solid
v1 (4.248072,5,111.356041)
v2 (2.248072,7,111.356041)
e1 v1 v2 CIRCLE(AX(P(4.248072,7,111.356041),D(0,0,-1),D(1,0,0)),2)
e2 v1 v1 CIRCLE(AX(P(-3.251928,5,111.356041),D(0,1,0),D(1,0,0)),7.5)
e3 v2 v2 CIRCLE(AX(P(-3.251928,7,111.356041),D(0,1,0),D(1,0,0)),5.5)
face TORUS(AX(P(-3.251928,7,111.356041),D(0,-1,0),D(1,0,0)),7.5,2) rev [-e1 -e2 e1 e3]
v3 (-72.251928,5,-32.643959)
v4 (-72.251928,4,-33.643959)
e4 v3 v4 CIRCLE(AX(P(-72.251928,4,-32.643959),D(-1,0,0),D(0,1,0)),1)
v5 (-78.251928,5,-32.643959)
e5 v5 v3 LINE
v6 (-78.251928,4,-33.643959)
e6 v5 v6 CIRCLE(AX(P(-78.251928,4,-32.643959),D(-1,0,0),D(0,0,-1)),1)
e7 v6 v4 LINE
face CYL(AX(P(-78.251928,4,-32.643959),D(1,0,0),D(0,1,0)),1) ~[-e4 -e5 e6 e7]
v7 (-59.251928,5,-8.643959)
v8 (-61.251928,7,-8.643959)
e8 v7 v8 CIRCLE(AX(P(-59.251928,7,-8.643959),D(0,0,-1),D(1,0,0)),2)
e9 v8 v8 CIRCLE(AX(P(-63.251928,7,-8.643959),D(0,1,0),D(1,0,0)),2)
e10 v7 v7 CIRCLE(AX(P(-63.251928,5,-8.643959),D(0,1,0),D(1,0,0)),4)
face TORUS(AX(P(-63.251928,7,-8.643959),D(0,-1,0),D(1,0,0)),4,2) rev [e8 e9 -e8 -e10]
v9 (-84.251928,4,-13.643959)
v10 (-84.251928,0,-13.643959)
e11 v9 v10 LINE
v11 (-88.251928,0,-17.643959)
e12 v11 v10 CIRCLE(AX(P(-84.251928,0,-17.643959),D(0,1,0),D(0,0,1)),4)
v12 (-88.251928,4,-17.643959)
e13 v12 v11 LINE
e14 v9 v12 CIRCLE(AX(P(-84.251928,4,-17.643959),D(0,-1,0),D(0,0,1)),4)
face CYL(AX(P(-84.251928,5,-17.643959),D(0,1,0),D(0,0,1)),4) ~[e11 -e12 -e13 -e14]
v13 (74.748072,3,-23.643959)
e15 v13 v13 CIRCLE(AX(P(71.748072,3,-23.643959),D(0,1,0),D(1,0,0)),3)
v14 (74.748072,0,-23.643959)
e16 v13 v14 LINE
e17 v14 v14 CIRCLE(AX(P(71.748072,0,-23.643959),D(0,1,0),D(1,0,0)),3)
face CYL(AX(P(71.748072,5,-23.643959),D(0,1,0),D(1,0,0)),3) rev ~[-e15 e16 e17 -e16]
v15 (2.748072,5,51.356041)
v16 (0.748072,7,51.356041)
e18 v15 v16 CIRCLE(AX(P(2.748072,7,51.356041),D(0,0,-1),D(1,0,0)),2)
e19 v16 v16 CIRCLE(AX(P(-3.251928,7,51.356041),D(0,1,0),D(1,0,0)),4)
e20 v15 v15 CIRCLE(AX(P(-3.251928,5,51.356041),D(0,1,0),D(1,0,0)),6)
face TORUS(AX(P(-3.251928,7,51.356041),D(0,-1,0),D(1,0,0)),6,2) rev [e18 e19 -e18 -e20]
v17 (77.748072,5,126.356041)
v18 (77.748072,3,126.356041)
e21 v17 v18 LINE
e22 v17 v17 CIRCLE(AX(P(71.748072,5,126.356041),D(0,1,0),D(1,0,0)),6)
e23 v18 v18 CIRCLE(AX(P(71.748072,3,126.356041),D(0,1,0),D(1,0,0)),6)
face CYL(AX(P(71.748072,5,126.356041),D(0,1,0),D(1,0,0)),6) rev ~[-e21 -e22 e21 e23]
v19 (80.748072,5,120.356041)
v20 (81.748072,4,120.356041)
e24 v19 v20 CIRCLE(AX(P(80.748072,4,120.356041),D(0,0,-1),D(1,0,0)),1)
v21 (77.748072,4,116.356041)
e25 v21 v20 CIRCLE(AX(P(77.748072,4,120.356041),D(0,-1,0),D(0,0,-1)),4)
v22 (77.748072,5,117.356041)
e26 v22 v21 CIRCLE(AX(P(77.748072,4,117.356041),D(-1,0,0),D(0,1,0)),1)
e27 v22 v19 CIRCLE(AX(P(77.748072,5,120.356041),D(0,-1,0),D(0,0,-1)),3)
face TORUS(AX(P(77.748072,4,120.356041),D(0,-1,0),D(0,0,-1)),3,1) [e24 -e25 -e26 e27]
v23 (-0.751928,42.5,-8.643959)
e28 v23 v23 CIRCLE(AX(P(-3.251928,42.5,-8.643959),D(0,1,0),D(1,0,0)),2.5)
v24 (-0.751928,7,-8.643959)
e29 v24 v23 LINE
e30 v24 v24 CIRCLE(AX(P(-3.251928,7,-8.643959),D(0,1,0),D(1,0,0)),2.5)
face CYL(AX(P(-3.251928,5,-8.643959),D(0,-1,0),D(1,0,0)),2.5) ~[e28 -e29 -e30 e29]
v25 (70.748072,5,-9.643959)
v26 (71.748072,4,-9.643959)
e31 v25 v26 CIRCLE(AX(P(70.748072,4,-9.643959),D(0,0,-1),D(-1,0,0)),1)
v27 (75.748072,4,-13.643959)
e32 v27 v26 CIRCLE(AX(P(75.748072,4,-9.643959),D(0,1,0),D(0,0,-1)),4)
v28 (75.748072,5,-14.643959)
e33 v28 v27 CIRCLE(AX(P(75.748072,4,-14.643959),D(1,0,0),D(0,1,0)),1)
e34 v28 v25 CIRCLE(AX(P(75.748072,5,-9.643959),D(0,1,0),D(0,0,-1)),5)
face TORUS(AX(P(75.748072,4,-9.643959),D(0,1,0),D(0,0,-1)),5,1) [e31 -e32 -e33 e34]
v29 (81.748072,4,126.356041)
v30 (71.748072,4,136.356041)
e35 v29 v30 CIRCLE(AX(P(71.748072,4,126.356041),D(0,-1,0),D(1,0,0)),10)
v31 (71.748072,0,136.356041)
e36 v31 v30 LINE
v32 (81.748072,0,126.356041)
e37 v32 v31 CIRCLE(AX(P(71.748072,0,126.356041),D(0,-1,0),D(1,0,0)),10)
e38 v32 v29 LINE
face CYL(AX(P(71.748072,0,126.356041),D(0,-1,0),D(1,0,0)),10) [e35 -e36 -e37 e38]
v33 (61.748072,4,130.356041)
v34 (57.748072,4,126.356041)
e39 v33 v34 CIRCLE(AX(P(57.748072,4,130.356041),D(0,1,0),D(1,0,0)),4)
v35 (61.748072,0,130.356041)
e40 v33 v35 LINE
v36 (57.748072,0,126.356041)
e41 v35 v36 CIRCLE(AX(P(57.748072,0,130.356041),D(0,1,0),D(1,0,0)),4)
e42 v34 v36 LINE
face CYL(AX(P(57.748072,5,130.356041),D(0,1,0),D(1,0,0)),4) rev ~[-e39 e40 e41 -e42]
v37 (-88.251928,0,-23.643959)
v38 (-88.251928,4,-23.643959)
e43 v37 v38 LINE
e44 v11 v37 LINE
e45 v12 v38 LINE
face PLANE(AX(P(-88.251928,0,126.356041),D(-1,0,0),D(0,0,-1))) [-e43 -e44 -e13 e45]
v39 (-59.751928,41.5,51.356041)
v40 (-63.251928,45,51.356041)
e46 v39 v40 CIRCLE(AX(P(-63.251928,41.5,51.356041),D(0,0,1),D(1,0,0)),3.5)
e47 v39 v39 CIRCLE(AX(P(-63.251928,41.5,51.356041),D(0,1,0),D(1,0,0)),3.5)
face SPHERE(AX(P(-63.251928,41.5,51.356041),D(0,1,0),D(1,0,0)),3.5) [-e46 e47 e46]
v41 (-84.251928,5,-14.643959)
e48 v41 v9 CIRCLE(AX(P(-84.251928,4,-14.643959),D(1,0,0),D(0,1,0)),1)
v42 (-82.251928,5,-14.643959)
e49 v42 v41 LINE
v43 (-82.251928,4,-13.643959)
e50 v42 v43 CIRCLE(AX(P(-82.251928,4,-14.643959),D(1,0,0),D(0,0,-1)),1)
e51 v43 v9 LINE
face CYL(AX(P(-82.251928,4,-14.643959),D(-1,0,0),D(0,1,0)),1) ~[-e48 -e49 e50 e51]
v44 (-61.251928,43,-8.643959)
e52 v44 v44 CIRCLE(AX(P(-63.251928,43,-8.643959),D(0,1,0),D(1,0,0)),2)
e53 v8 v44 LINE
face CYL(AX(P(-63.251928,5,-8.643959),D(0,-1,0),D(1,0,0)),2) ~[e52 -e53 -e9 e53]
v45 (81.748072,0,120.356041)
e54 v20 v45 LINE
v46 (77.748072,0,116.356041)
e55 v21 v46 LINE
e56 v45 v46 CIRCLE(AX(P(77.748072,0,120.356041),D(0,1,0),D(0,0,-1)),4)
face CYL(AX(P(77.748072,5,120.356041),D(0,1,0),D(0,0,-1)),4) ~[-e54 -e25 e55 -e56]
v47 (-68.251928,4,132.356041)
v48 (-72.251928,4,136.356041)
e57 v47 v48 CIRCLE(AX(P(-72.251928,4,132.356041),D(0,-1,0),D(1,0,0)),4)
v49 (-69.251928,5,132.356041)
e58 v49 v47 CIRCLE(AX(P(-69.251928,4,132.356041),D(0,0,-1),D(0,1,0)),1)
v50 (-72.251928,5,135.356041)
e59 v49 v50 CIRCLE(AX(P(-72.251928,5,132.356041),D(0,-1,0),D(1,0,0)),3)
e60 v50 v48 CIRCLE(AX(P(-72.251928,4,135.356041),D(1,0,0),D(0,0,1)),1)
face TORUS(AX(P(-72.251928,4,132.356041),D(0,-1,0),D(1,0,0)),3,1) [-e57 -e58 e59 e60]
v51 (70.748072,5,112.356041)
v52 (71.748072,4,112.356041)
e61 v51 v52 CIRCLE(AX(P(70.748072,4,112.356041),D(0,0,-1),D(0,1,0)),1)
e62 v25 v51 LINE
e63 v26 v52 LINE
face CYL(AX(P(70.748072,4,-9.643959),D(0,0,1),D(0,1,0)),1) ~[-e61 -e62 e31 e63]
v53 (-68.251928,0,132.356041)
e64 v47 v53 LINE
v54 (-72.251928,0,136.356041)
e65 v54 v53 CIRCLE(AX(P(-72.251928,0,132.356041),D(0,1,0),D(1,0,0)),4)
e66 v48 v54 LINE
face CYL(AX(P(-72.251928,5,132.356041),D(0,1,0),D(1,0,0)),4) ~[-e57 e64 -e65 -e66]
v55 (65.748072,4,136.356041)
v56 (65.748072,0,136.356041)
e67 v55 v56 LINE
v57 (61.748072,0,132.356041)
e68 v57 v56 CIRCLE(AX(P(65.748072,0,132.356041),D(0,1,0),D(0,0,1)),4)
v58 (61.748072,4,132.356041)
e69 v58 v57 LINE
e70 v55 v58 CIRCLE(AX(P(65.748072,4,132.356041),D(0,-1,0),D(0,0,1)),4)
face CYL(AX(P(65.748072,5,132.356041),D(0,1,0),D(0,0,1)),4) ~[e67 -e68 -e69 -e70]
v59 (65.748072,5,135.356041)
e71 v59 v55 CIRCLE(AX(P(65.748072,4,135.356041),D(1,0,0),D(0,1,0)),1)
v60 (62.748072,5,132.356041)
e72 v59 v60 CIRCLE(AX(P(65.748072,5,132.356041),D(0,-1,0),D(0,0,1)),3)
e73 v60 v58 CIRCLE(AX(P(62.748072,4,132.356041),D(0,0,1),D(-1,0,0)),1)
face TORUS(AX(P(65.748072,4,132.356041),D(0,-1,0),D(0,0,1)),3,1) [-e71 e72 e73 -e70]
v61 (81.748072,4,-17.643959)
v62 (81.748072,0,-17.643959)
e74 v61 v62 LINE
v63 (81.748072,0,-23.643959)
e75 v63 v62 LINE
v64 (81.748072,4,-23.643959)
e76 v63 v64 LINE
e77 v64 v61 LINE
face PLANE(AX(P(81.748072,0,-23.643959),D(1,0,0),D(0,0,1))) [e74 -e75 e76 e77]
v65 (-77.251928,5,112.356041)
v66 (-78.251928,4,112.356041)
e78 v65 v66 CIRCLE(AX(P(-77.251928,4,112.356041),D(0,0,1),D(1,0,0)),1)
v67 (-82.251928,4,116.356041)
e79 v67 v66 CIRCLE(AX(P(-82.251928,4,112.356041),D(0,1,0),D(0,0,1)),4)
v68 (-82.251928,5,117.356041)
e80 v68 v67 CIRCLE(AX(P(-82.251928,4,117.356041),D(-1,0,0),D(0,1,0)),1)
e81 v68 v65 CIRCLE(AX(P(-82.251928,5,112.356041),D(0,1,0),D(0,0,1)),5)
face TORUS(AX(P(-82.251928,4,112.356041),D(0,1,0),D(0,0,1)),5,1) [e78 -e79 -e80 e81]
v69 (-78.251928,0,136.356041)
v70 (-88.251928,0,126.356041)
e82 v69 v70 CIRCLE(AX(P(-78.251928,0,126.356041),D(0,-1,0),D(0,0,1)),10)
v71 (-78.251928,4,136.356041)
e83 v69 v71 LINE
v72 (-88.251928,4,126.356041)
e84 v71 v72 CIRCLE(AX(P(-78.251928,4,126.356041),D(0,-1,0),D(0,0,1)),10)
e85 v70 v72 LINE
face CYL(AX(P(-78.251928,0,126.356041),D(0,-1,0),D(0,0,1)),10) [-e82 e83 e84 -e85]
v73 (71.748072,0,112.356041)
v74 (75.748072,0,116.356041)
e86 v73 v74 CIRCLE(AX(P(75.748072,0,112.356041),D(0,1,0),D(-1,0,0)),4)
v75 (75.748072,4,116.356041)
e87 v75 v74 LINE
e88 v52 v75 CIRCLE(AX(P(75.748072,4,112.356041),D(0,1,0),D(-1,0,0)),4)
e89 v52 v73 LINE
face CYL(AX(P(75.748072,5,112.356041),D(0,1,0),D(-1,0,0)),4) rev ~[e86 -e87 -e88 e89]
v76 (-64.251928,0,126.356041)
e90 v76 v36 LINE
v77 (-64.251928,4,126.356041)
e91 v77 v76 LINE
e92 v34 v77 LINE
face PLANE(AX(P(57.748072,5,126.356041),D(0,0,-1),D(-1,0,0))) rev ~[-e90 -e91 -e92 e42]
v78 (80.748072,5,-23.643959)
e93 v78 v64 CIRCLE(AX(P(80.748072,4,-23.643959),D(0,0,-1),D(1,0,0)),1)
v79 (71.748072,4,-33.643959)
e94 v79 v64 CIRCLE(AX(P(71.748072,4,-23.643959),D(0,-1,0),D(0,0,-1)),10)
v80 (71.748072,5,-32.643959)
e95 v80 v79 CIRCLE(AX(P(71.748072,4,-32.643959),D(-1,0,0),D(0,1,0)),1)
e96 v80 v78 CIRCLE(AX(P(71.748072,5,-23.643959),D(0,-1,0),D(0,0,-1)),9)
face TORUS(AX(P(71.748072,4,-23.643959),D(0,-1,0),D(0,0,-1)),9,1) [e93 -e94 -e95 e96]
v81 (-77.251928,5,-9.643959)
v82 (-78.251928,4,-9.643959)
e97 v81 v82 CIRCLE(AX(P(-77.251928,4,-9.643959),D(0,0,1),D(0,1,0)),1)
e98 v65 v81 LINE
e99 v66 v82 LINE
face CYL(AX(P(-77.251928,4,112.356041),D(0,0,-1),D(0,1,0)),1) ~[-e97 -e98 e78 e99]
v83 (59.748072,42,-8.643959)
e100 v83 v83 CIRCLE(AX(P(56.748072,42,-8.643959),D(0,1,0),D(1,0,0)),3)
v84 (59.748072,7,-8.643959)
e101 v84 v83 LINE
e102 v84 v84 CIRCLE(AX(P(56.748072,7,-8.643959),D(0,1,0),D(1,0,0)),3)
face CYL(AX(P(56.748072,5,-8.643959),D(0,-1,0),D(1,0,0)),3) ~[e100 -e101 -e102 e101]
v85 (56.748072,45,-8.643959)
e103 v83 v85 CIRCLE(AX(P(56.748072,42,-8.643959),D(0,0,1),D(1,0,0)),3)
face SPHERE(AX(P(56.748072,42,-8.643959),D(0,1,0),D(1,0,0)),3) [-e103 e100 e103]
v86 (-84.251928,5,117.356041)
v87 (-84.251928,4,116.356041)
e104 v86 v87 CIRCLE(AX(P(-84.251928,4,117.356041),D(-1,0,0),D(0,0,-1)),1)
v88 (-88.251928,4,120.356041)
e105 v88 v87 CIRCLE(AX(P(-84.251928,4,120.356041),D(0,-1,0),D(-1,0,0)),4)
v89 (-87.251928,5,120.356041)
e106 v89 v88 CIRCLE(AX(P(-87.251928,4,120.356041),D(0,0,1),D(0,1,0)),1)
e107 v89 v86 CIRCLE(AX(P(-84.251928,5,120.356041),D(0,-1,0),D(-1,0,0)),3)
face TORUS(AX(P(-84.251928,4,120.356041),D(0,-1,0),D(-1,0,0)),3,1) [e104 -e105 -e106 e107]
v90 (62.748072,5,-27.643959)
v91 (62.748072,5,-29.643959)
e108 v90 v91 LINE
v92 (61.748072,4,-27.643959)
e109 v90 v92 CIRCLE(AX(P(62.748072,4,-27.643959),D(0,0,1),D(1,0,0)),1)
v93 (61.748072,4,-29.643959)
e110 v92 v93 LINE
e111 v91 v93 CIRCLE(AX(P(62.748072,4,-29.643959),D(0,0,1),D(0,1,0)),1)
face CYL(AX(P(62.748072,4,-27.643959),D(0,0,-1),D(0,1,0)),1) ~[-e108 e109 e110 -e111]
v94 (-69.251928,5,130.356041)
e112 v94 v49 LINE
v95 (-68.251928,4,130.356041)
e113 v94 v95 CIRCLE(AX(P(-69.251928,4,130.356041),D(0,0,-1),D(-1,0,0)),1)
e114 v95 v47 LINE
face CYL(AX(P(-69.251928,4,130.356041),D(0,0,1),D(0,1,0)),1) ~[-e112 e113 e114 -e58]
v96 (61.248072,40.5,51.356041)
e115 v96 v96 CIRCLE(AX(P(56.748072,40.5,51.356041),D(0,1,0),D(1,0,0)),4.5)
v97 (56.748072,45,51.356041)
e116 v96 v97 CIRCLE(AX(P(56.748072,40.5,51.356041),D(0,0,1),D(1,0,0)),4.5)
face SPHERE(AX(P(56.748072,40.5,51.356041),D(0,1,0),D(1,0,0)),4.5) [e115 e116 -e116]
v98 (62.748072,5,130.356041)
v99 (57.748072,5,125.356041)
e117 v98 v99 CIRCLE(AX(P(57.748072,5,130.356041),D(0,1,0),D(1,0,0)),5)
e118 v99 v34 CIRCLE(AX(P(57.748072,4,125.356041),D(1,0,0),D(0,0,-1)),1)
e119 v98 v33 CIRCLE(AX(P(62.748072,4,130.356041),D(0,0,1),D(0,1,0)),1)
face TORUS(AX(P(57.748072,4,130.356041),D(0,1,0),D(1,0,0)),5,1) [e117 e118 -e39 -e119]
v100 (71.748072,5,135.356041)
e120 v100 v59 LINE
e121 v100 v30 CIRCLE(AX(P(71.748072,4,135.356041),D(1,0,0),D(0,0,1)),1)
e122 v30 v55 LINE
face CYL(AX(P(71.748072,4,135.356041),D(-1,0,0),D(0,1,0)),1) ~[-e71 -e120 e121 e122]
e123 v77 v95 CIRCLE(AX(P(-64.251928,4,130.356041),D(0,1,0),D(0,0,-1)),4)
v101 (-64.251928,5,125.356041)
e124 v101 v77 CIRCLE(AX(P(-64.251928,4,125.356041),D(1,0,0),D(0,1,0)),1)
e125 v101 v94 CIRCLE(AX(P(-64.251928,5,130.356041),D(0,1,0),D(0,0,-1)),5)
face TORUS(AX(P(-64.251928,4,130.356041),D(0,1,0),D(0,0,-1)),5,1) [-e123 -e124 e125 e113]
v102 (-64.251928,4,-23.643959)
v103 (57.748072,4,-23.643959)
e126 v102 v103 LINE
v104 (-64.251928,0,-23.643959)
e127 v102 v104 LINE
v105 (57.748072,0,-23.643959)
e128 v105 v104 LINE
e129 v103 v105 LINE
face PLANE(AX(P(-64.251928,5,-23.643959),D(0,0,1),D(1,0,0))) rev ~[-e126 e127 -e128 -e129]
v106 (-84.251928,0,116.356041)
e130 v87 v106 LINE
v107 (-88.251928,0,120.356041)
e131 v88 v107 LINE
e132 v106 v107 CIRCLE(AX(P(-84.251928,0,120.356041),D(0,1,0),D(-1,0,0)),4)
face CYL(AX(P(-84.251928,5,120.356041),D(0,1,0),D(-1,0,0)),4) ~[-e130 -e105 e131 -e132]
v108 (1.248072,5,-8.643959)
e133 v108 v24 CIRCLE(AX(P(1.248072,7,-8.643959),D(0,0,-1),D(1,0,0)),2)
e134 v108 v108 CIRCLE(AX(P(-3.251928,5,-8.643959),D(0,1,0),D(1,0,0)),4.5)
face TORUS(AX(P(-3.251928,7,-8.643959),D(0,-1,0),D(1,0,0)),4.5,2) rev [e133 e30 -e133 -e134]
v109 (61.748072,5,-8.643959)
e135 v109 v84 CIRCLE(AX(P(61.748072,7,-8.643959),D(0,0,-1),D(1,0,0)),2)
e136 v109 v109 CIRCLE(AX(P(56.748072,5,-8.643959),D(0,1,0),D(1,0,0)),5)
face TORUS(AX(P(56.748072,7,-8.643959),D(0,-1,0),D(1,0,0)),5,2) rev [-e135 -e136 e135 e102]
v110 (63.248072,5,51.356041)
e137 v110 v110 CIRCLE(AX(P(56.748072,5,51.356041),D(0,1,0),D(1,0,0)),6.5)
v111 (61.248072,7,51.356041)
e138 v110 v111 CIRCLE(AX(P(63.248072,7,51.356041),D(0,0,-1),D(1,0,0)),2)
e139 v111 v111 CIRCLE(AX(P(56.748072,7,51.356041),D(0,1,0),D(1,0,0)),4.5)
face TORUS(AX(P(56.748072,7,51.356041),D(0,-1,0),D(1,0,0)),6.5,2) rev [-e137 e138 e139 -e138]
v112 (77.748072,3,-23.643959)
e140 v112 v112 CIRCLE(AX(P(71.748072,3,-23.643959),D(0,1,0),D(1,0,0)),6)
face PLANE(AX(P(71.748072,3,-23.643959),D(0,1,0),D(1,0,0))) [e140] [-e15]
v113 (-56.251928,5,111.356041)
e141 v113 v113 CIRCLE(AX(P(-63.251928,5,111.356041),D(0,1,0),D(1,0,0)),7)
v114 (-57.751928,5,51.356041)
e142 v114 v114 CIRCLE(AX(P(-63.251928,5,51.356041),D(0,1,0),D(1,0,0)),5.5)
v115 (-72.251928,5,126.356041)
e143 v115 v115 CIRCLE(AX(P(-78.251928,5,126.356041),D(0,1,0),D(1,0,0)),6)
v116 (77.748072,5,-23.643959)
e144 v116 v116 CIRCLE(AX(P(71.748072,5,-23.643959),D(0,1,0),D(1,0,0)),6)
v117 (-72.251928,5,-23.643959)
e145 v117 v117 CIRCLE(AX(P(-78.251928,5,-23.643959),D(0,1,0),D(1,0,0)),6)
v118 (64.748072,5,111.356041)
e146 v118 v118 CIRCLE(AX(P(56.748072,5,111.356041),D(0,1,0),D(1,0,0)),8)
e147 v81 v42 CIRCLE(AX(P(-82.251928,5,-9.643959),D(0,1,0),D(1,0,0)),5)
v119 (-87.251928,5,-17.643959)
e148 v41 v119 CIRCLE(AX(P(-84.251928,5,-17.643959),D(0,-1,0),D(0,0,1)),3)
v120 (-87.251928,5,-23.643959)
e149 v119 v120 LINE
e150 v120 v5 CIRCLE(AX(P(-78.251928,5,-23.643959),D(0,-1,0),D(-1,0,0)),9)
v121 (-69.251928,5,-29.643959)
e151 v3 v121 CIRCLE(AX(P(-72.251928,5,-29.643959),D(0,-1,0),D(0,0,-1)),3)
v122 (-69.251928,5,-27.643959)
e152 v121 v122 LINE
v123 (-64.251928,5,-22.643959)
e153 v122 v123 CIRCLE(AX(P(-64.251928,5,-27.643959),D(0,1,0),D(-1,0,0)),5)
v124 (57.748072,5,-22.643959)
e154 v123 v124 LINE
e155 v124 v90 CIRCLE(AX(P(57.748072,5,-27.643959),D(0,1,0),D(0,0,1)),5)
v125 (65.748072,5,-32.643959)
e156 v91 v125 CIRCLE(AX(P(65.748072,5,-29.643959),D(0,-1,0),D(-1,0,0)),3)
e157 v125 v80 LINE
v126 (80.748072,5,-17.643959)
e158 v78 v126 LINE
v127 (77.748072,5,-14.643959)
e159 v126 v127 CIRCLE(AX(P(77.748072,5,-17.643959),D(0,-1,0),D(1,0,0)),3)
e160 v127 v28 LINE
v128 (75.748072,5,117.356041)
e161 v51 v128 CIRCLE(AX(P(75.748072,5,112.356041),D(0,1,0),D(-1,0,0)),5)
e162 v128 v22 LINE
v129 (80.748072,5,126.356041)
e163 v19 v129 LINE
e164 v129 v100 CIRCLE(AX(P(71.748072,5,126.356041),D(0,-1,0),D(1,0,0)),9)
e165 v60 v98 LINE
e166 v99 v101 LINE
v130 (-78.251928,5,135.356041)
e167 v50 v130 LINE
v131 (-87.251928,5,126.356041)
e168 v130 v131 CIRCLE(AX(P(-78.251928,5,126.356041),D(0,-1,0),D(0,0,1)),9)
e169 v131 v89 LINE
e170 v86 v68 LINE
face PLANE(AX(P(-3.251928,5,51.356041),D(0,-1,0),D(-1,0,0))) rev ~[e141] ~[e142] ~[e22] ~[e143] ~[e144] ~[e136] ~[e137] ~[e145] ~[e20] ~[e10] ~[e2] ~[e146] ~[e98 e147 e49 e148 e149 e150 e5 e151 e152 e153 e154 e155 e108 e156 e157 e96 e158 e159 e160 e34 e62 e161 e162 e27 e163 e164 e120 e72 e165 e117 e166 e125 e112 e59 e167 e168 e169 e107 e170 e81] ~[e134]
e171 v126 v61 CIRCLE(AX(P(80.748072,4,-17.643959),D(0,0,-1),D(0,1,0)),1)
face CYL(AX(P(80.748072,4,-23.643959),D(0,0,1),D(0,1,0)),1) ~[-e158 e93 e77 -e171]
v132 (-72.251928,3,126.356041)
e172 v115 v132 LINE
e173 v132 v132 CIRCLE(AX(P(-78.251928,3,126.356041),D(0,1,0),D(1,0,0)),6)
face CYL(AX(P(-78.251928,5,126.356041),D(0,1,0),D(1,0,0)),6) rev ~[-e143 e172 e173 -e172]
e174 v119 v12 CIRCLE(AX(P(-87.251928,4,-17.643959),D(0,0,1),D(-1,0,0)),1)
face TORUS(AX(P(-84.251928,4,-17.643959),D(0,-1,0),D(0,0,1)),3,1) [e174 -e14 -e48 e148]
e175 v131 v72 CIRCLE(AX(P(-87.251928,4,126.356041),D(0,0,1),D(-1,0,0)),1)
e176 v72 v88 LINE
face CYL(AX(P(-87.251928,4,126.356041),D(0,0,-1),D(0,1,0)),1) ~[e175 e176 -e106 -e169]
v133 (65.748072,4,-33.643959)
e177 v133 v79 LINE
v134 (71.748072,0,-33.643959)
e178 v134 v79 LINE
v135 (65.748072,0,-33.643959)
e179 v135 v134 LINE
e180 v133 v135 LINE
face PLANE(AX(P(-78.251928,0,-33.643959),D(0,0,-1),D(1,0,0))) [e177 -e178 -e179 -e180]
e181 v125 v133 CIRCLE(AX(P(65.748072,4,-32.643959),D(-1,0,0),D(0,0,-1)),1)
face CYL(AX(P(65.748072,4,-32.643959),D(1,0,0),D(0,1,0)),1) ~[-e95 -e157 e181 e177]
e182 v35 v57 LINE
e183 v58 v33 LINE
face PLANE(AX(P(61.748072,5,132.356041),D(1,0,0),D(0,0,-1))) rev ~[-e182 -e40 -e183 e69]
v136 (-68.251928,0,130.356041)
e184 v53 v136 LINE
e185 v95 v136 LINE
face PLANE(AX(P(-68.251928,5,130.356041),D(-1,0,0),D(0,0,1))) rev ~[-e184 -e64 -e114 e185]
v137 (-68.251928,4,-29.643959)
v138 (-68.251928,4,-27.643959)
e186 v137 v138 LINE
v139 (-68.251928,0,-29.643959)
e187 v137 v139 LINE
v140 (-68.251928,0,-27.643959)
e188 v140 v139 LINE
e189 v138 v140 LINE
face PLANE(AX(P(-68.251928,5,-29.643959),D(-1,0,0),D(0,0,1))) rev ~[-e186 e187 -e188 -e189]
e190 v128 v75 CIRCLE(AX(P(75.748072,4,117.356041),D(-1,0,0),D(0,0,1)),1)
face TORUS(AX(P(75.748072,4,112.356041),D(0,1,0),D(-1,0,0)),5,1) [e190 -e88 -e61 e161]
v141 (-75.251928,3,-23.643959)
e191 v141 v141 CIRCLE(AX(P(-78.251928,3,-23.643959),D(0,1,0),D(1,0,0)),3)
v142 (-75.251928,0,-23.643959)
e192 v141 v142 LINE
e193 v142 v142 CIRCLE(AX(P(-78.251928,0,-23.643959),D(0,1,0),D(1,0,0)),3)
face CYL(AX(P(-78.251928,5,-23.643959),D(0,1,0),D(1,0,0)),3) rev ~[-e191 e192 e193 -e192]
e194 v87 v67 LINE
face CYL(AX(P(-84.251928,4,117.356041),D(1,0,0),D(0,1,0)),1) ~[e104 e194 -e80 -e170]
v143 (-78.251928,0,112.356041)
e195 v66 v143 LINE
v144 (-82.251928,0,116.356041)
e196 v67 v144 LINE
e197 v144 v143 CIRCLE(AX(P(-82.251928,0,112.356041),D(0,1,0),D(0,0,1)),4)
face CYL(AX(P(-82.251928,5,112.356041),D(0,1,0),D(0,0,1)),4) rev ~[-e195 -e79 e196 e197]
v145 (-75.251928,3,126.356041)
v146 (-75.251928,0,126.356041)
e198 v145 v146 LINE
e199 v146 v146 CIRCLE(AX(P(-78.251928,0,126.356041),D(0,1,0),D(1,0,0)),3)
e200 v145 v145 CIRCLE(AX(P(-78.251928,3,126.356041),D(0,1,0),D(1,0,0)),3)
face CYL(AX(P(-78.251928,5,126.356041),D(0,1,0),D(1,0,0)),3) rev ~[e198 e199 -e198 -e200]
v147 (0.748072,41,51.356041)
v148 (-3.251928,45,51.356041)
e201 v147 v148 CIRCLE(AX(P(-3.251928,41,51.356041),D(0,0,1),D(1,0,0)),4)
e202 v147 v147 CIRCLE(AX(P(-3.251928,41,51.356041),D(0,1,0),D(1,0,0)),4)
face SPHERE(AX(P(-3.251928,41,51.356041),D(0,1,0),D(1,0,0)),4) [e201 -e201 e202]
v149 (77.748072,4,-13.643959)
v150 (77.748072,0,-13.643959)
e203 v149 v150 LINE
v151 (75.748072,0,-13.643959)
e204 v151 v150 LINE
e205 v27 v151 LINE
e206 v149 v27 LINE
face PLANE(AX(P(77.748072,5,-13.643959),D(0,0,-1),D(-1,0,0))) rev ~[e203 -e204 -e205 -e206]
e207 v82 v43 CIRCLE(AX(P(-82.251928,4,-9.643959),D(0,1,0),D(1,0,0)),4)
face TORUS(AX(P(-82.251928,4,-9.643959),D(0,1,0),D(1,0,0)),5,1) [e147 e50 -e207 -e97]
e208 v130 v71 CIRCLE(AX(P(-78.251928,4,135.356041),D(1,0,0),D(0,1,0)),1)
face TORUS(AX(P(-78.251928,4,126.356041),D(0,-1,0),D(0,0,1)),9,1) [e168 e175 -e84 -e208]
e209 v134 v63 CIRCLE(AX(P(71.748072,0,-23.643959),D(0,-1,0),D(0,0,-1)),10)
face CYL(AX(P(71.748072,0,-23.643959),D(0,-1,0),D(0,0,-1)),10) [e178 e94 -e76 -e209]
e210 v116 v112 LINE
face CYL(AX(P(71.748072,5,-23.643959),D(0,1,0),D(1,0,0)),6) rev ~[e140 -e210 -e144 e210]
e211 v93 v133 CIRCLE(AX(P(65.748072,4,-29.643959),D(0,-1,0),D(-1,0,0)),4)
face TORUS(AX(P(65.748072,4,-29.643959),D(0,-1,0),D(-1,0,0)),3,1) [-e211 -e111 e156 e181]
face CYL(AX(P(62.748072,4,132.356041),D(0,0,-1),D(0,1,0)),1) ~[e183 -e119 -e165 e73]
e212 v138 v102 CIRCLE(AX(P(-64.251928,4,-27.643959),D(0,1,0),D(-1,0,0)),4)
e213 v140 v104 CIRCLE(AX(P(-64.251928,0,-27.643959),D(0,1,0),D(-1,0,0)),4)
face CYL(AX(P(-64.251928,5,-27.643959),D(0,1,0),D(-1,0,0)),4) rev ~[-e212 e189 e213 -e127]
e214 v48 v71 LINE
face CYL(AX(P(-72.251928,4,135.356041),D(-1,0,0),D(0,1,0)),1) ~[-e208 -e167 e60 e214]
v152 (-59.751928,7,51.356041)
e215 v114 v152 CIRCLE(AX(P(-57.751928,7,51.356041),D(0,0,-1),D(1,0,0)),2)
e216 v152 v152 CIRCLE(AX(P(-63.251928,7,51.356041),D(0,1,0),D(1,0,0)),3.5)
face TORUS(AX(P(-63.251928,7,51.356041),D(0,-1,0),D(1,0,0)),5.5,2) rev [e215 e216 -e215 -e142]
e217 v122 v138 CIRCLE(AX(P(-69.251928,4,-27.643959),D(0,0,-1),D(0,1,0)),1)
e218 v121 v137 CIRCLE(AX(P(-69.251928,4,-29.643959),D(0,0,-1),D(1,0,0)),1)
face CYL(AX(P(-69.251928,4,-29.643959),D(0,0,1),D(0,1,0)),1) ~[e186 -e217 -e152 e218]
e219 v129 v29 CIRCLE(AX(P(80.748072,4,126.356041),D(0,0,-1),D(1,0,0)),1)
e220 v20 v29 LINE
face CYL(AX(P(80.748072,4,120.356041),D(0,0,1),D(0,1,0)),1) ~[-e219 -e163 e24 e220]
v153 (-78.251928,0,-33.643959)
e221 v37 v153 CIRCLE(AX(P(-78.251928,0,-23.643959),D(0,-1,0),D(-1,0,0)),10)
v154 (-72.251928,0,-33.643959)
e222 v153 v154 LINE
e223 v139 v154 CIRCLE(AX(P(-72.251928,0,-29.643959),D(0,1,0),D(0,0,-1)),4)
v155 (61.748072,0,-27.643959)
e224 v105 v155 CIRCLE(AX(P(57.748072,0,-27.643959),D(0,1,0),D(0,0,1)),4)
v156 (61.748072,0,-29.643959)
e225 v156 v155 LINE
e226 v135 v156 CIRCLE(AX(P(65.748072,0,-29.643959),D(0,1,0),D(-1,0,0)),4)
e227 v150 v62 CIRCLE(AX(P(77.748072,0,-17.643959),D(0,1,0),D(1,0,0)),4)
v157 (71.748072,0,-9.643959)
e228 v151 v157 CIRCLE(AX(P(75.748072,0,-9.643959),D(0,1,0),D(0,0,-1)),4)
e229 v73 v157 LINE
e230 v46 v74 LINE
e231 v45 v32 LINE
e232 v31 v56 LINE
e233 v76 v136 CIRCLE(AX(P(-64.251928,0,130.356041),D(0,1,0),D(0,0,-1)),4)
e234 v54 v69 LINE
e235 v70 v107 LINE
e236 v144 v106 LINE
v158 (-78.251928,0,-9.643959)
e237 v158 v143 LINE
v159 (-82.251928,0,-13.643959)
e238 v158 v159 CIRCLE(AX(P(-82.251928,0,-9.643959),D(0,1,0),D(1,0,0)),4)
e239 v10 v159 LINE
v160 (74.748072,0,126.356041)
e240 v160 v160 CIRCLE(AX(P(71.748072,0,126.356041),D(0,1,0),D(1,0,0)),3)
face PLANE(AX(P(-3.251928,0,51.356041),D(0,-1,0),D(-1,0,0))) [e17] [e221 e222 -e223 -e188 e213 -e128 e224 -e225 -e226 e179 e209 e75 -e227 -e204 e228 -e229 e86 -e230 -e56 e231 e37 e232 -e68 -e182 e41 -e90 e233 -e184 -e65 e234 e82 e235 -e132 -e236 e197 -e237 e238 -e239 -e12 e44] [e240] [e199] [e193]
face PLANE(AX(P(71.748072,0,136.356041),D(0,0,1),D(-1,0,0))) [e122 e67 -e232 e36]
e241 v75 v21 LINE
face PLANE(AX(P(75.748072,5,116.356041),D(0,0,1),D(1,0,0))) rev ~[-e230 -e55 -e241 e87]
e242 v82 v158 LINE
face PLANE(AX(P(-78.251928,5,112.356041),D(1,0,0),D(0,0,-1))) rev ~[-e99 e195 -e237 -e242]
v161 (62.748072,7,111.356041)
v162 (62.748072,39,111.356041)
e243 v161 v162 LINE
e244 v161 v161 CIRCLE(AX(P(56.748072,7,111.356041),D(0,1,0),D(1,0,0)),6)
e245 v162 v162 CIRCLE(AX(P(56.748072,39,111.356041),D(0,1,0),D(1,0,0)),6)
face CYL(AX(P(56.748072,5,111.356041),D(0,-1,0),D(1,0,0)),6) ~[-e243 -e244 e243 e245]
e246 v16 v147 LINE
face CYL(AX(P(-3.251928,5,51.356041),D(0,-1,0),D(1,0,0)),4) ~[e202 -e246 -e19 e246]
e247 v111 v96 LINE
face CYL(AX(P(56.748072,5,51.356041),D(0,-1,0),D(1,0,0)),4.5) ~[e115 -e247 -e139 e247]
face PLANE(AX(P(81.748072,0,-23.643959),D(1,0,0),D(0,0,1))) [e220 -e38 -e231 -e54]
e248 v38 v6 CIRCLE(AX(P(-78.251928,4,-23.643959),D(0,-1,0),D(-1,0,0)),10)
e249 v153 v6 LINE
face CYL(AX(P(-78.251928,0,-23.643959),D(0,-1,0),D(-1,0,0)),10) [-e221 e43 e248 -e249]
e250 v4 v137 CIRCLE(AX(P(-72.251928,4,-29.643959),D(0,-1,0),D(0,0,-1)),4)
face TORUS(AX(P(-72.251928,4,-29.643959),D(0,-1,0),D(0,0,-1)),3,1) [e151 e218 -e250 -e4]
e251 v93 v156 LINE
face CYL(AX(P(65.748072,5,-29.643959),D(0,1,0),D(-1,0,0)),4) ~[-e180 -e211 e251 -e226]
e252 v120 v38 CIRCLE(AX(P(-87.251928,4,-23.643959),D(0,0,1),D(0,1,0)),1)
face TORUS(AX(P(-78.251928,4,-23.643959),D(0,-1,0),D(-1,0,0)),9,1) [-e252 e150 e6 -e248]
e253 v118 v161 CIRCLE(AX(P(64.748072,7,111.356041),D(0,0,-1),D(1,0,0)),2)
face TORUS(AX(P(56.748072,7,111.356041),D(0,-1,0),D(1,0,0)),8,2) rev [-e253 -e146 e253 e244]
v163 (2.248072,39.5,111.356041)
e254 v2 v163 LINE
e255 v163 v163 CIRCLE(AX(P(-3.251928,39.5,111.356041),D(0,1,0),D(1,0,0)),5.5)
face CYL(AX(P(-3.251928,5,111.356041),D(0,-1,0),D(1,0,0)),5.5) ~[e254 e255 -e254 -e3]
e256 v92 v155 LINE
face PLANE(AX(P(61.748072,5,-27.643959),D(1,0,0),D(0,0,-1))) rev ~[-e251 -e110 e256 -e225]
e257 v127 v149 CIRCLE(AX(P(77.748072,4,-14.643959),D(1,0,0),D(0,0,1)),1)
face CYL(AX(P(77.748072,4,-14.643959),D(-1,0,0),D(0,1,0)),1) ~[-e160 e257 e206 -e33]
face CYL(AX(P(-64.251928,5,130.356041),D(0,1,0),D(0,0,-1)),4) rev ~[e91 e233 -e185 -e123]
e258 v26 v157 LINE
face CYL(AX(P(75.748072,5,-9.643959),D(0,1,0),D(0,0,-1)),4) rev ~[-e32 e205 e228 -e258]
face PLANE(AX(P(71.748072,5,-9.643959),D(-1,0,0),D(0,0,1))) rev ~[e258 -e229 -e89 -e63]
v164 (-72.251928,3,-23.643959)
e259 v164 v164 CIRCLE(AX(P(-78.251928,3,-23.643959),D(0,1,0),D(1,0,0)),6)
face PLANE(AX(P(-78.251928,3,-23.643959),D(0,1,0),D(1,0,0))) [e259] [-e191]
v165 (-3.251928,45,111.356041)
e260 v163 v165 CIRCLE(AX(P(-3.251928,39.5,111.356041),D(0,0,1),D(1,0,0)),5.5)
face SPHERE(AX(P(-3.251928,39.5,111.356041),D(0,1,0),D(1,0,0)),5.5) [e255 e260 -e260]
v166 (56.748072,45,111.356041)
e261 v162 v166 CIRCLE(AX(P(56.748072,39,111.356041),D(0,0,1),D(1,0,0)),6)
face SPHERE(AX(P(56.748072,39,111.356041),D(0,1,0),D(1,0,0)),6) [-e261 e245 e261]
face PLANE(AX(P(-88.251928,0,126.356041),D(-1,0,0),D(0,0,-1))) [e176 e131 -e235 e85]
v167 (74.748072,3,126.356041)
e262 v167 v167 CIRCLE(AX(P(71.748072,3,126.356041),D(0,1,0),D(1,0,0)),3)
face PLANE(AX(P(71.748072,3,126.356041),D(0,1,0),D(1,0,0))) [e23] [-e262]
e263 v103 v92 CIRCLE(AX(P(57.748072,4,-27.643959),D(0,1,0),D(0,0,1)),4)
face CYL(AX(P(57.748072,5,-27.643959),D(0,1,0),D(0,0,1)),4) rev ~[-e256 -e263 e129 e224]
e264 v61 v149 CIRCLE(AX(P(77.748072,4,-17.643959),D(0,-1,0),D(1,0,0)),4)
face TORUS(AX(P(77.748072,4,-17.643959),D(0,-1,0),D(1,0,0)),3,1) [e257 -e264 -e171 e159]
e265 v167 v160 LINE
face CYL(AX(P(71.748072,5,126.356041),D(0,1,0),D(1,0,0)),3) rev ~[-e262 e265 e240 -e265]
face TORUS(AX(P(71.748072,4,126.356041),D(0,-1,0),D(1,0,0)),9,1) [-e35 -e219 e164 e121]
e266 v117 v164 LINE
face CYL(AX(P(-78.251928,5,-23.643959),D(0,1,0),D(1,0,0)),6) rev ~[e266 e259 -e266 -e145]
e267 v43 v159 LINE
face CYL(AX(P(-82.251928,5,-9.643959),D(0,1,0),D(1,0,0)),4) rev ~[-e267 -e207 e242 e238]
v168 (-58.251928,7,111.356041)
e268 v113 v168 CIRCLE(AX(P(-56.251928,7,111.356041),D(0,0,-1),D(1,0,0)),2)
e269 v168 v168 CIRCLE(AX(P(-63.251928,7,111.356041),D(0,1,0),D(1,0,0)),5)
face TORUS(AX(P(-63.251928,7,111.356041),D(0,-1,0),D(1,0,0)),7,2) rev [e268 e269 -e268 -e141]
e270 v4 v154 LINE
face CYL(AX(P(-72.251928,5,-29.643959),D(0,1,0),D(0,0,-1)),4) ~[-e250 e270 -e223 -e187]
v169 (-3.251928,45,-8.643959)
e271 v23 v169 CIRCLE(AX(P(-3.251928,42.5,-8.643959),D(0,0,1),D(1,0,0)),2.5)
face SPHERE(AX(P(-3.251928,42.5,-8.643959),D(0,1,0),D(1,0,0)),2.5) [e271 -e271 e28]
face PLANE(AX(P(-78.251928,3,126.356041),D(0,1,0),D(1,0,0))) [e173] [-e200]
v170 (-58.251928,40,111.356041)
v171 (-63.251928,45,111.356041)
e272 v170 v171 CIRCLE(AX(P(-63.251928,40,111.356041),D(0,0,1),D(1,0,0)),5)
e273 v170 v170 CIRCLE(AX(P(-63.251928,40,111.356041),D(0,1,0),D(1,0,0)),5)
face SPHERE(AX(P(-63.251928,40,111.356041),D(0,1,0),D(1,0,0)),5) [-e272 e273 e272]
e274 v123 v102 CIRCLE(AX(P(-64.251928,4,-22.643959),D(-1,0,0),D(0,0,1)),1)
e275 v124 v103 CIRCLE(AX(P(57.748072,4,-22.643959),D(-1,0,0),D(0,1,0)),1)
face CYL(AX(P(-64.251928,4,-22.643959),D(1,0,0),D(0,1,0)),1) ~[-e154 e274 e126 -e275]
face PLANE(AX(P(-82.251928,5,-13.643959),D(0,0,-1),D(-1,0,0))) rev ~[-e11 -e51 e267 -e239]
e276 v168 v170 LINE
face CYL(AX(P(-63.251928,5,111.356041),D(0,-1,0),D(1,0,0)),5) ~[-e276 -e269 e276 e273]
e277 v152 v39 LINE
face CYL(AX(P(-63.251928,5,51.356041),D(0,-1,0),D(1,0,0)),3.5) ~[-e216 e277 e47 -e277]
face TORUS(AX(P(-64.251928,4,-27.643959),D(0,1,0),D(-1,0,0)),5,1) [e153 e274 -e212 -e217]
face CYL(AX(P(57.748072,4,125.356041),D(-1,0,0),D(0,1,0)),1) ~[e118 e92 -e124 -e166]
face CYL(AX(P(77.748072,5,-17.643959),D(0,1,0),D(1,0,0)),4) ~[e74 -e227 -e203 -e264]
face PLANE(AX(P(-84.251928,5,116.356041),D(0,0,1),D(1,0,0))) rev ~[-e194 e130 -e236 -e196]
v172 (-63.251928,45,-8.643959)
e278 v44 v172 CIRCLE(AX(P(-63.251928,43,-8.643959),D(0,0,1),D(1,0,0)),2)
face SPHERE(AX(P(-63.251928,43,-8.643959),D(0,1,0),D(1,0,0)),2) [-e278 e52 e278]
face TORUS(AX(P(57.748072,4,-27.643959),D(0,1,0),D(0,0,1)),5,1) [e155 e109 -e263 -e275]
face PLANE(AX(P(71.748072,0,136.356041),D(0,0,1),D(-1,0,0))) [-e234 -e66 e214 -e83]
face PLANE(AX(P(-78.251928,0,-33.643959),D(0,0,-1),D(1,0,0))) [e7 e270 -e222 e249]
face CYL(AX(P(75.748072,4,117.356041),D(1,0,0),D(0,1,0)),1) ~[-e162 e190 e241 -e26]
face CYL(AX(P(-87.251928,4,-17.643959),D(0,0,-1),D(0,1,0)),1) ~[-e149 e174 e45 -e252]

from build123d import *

# Parameters (mm, degrees)
BOSS_EXTRUDE1_DEPTH = 5
SKETCH3_R           = 6
CUT_EXTRUDE1_DEPTH  = 2
SKETCH9_R           = 3
CUT_EXTRUDE4_DEPTH  = 6
SKETCH10_R          = 2
SKETCH10_R_2        = 2.5
SKETCH10_R_3        = 3
SKETCH10_R_4        = 3.5
SKETCH10_R_5        = 4
SKETCH10_R_6        = 4.5
SKETCH10_R_7        = 5
SKETCH10_R_8        = 5.5
SKETCH10_R_9        = 6
BOSS_EXTRUDE6_DEPTH = 40
FILLET1_R           = 2
FILLET2_R           = 2.5
FILLET3_R           = 3
FILLET4_R           = 3.5
FILLET5_R           = 4
FILLET6_R           = 4.5
FILLET7_R           = 5
FILLET8_R           = 5.5
FILLET9_R           = 6
FILLET11_R          = 2
FILLET12_R          = 2
FILLET13_R          = 2
FILLET14_R          = 2
FILLET15_R          = 2
FILLET16_R          = 2
FILLET17_R          = 2
FILLET18_R          = 2
FILLET19_R          = 2
SKETCH12_OUTSIDE_W  = 220.918
SKETCH12_OUTSIDE_H  = 220.918
CUT_EXTRUDE5_DEPTH  = 40
FILLET20_R          = 1


with BuildPart() as part:
    # Sketch2 → Boss-Extrude1 (new body)
    with BuildSketch(Plane(origin=(0, 0, 0), x_dir=(1, 0, 0), z_dir=(0, 1, 0))):
        with BuildLine():
            Line((-78.251928021, 33.643958869), (71.748071979, 33.643958869))
            ThreePointArc((71.748071979, 33.643958869), (78.819139791, 30.715026681), (81.748071979, 23.643958869))
            Line((81.748071979, 23.643958869), (81.748071979, -126.356041131))
            ThreePointArc((81.748071979, -126.356041131), (78.819139791, -133.427108943), (71.748071979, -136.356041131))
            Line((71.748071979, -136.356041131), (-78.251928021, -136.356041131))
            ThreePointArc((-78.251928021, -136.356041131), (-85.322995832, -133.427108943), (-88.251928021, -126.356041131))
            Line((-88.251928021, -126.356041131), (-88.251928021, 23.643958869))
            ThreePointArc((-88.251928021, 23.643958869), (-85.322995832, 30.715026681), (-78.251928021, 33.643958869))
        make_face()
    extrude(amount=BOSS_EXTRUDE1_DEPTH)

    # Sketch3 → Cut-Extrude1 (cut)
    with BuildSketch(Plane(origin=(0, 5, 0), x_dir=(1, 0, 0), z_dir=(0, 1, 0))):
        with Locations((71.748071979, 23.643958869)):
            Circle(SKETCH3_R)
        with Locations((71.748071979, -126.356041131)):
            Circle(SKETCH3_R)
        with Locations((-78.251928021, 23.643958869)):
            Circle(SKETCH3_R)
        with Locations((-78.251928021, -126.356041131)):
            Circle(SKETCH3_R)
    extrude(amount=-CUT_EXTRUDE1_DEPTH, mode=Mode.SUBTRACT)

    # Sketch9 → Cut-Extrude4 (cut, through all)
    with BuildSketch(Plane(origin=(0, 5, 0), x_dir=(1, 0, 0), z_dir=(0, 1, 0))):
        with Locations((-78.251928021, 23.643958869)):
            Circle(SKETCH9_R)
        with Locations((71.748071979, 23.643958869)):
            Circle(SKETCH9_R)
        with Locations((71.748071979, -126.356041131)):
            Circle(SKETCH9_R)
        with Locations((-78.251928021, -126.356041131)):
            Circle(SKETCH9_R)
    extrude(amount=-CUT_EXTRUDE4_DEPTH, mode=Mode.SUBTRACT)

    # Sketch10 → Boss-Extrude6 (add)
    with BuildSketch(Plane(origin=(0, 5, 0), x_dir=(1, 0, 0), z_dir=(0, 1, 0))):
        with Locations((-63.251928021, 8.643958869)):
            Circle(SKETCH10_R)
        with Locations((-3.251928021, 8.643958869)):
            Circle(SKETCH10_R_2)
        with Locations((56.748071979, 8.643958869)):
            Circle(SKETCH10_R_3)
        with Locations((-63.251928021, -51.356041131)):
            Circle(SKETCH10_R_4)
        with Locations((-3.251928021, -51.356041131)):
            Circle(SKETCH10_R_5)
        with Locations((56.748071979, -51.356041131)):
            Circle(SKETCH10_R_6)
        with Locations((-63.251928021, -111.356041131)):
            Circle(SKETCH10_R_7)
        with Locations((-3.251928021, -111.356041131)):
            Circle(SKETCH10_R_8)
        with Locations((56.748071979, -111.356041131)):
            Circle(SKETCH10_R_9)
    extrude(amount=BOSS_EXTRUDE6_DEPTH)

    # Fillet1
    fillet1_edges = [part.edges().sort_by_distance(p)[0] for p in [
        (-65.251928021, 45, -8.643958869),
    ]]
    fillet(fillet1_edges, radius=FILLET1_R)

    # Fillet2
    fillet2_edges = [part.edges().sort_by_distance(p)[0] for p in [
        (-5.751928021, 45, -8.643958869),
    ]]
    fillet(fillet2_edges, radius=FILLET2_R)

    # Fillet3
    fillet3_edges = [part.edges().sort_by_distance(p)[0] for p in [
        (53.748071979, 45, -8.643958869),
    ]]
    fillet(fillet3_edges, radius=FILLET3_R)

    # Fillet4
    fillet4_edges = [part.edges().sort_by_distance(p)[0] for p in [
        (-66.751928021, 45, 51.356041131),
    ]]
    fillet(fillet4_edges, radius=FILLET4_R)

    # Fillet5
    fillet5_edges = [part.edges().sort_by_distance(p)[0] for p in [
        (-7.251928021, 45, 51.356041131),
    ]]
    fillet(fillet5_edges, radius=FILLET5_R)

    # Fillet6
    fillet6_edges = [part.edges().sort_by_distance(p)[0] for p in [
        (52.248071979, 45, 51.356041131),
    ]]
    fillet(fillet6_edges, radius=FILLET6_R)

    # Fillet7
    fillet7_edges = [part.edges().sort_by_distance(p)[0] for p in [
        (-68.251928021, 45, 111.356041131),
    ]]
    fillet(fillet7_edges, radius=FILLET7_R)

    # Fillet8
    fillet8_edges = [part.edges().sort_by_distance(p)[0] for p in [
        (-8.751928021, 45, 111.356041131),
    ]]
    fillet(fillet8_edges, radius=FILLET8_R)

    # Fillet9
    fillet9_edges = [part.edges().sort_by_distance(p)[0] for p in [
        (50.748071979, 45, 111.356041131),
    ]]
    fillet(fillet9_edges, radius=FILLET9_R)

    # Fillet11
    fillet11_edges = [part.edges().sort_by_distance(p)[0] for p in [
        (-65.251928021, 5, -8.643958869),
    ]]
    fillet(fillet11_edges, radius=FILLET11_R)

    # Fillet12
    fillet12_edges = [part.edges().sort_by_distance(p)[0] for p in [
        (-5.751928021, 5, -8.643958869),
    ]]
    fillet(fillet12_edges, radius=FILLET12_R)

    # Fillet13
    fillet13_edges = [part.edges().sort_by_distance(p)[0] for p in [
        (53.748071979, 5, -8.643958869),
    ]]
    fillet(fillet13_edges, radius=FILLET13_R)

    # Fillet14
    fillet14_edges = [part.edges().sort_by_distance(p)[0] for p in [
        (-66.751928021, 5, 51.356041131),
    ]]
    fillet(fillet14_edges, radius=FILLET14_R)

    # Fillet15
    fillet15_edges = [part.edges().sort_by_distance(p)[0] for p in [
        (-7.251928021, 5, 51.356041131),
    ]]
    fillet(fillet15_edges, radius=FILLET15_R)

    # Fillet16
    fillet16_edges = [part.edges().sort_by_distance(p)[0] for p in [
        (52.248071979, 5, 51.356041131),
    ]]
    fillet(fillet16_edges, radius=FILLET16_R)

    # Fillet17
    fillet17_edges = [part.edges().sort_by_distance(p)[0] for p in [
        (-68.251928021, 5, 111.356041131),
    ]]
    fillet(fillet17_edges, radius=FILLET17_R)

    # Fillet18
    fillet18_edges = [part.edges().sort_by_distance(p)[0] for p in [
        (-8.751928021, 5, 111.356041131),
    ]]
    fillet(fillet18_edges, radius=FILLET18_R)

    # Fillet19
    fillet19_edges = [part.edges().sort_by_distance(p)[0] for p in [
        (50.748071979, 5, 111.356041131),
    ]]
    fillet(fillet19_edges, radius=FILLET19_R)

    # Sketch12 outside → Cut-Extrude5 (cut)
    with BuildSketch(Plane(origin=(0, 5, 0), x_dir=(1, 0, 0), z_dir=(0, 1, 0))):
        with Locations((-3.252, -51.356)):
            Rectangle(SKETCH12_OUTSIDE_W, SKETCH12_OUTSIDE_H)
        with BuildLine():
            Line((-64.251928021, 23.643958869), (57.748071979, 23.643958869))
            ThreePointArc((57.748071979, 23.643958869), (60.576499104, 24.815531744), (61.748071979, 27.643958869))
            Line((61.748071979, 27.643958869), (61.748071979, 29.643958869))
            ThreePointArc((61.748071979, 29.643958869), (62.919644855, 32.472385994), (65.748071979, 33.643958869))
            Line((65.748071979, 33.643958869), (71.748071979, 33.643958869))
            Line((71.748071979, 33.643958869), (81.749247741, 33.643958869))
            Line((81.749247741, 33.643958869), (81.748071979, 23.643958869))
            Line((81.748071979, 23.643958869), (81.748071979, 17.643958869))
            ThreePointArc((81.748071979, 17.643958869), (80.576499104, 14.815531744), (77.748071979, 13.643958869))
            Line((77.748071979, 13.643958869), (75.748071979, 13.643958869))
            ThreePointArc((75.748071979, 13.643958869), (72.919644855, 12.472385994), (71.748071979, 9.643958869))
            Line((71.748071979, 9.643958869), (71.748071979, -112.356041131))
            ThreePointArc((71.748071979, -112.356041131), (72.919644855, -115.184468256), (75.748071979, -116.356041131))
            Line((75.748071979, -116.356041131), (77.748071979, -116.356041131))
            ThreePointArc((77.748071979, -116.356041131), (80.576499104, -117.527614006), (81.748071979, -120.356041131))
            Line((81.748071979, -120.356041131), (81.748071979, -126.356041131))
            Line((81.748071979, -126.356041131), (81.748071979, -136.356041131))
            Line((81.748071979, -136.356041131), (71.748071979, -136.356041131))
            Line((71.748071979, -136.356041131), (65.748071979, -136.356041131))
            ThreePointArc((65.748071979, -136.356041131), (62.919644855, -135.184468256), (61.748071979, -132.356041131))
            Line((61.748071979, -132.356041131), (61.748071979, -130.356041131))
            ThreePointArc((61.748071979, -130.356041131), (60.576499104, -127.527614006), (57.748071979, -126.356041131))
            Line((57.748071979, -126.356041131), (-64.251928021, -126.356041131))
            ThreePointArc((-64.251928021, -126.356041131), (-67.080355145, -127.527614006), (-68.251928021, -130.356041131))
            Line((-68.251928021, -130.356041131), (-68.251928021, -132.356041131))
            ThreePointArc((-68.251928021, -132.356041131), (-69.423500896, -135.184468256), (-72.251928021, -136.356041131))
            Line((-72.251928021, -136.356041131), (-78.251928021, -136.356041131))
            Line((-78.251928021, -136.356041131), (-88.251928021, -136.356041131))
            Line((-88.251928021, -136.356041131), (-88.251928021, -126.356041131))
            Line((-88.251928021, -126.356041131), (-88.251928021, -120.356041131))
            ThreePointArc((-88.251928021, -120.356041131), (-87.080355145, -117.527614006), (-84.251928021, -116.356041131))
            Line((-84.251928021, -116.356041131), (-82.251928021, -116.356041131))
            ThreePointArc((-82.251928021, -116.356041131), (-79.423500896, -115.184468256), (-78.251928021, -112.356041131))
            Line((-78.251928021, -112.356041131), (-78.251928021, 9.643958869))
            ThreePointArc((-78.251928021, 9.643958869), (-79.423500896, 12.472385994), (-82.251928021, 13.643958869))
            Line((-82.251928021, 13.643958869), (-84.251928021, 13.643958869))
            ThreePointArc((-84.251928021, 13.643958869), (-87.080355145, 14.815531744), (-88.251928021, 17.643958869))
            Line((-88.251928021, 17.643958869), (-88.251928021, 23.643958869))
            Line((-88.251928021, 23.643958869), (-88.251928021, 33.643958869))
            Line((-88.251928021, 33.643958869), (-78.251928021, 33.643958869))
            Line((-78.251928021, 33.643958869), (-72.251928021, 33.643958869))
            ThreePointArc((-72.251928021, 33.643958869), (-69.423500896, 32.472385994), (-68.251928021, 29.643958869))
            Line((-68.251928021, 29.643958869), (-68.251928021, 27.643958869))
            ThreePointArc((-68.251928021, 27.643958869), (-67.080355145, 24.815531744), (-64.251928021, 23.643958869))
        make_face(mode=Mode.SUBTRACT)
    extrude(amount=-CUT_EXTRUDE5_DEPTH, mode=Mode.SUBTRACT)

    # Fillet20
    fillet20_edges = [part.edges().sort_by_distance(p)[0] for p in [
        (78.819139791, 5, 133.427108943),
        (68.748071979, 5, 136.356041131),
        (81.748071979, 5, -20.643958869),
        (-75.251928021, 5, -33.643958869),
        (-88.251928021, 5, 123.356041131),
        (81.748071979, 5, 123.356041131),
        (-69.423500896, 5, -32.472385994),
        (-68.251928021, 5, -28.643958869),
        (-67.080355145, 5, -24.815531744),
        (-3.251928021, 5, -23.643958869),
        (60.576499104, 5, -24.815531744),
        (61.748071979, 5, -28.643958869),
        (62.919644855, 5, -32.472385994),
        (80.576499104, 5, -14.815531744),
        (76.748071979, 5, -13.643958869),
        (72.919644855, 5, -12.472385994),
        (71.748071979, 5, 51.356041131),
        (72.919644855, 5, 115.184468256),
        (76.748071979, 5, 116.356041131),
        (80.576499104, 5, 117.527614006),
        (62.919644855, 5, 135.184468256),
        (61.748071979, 5, 131.356041131),
        (60.576499104, 5, 127.527614006),
        (-3.251928021, 5, 126.356041131),
        (-67.080355145, 5, 127.527614006),
        (-68.251928021, 5, 131.356041131),
        (-69.423500896, 5, 135.184468256),
        (-87.080355145, 5, 117.527614006),
        (-83.251928021, 5, 116.356041131),
        (-79.423500896, 5, 115.184468256),
        (-78.251928021, 5, 51.356041131),
        (-79.423500896, 5, -12.472385994),
        (-83.251928021, 5, -13.643958869),
        (-87.080355145, 5, -14.815531744),
        (78.819139791, 5, -30.715026681),
        (68.748071979, 5, -33.643958869),
        (-85.322995832, 5, -30.715026681),
        (-88.251928021, 5, -20.643958869),
        (-85.322995832, 5, 133.427108943),
        (-75.251928021, 5, 136.356041131),
    ]]
    fillet(fillet20_edges, radius=FILLET20_R)


solid = part.part
